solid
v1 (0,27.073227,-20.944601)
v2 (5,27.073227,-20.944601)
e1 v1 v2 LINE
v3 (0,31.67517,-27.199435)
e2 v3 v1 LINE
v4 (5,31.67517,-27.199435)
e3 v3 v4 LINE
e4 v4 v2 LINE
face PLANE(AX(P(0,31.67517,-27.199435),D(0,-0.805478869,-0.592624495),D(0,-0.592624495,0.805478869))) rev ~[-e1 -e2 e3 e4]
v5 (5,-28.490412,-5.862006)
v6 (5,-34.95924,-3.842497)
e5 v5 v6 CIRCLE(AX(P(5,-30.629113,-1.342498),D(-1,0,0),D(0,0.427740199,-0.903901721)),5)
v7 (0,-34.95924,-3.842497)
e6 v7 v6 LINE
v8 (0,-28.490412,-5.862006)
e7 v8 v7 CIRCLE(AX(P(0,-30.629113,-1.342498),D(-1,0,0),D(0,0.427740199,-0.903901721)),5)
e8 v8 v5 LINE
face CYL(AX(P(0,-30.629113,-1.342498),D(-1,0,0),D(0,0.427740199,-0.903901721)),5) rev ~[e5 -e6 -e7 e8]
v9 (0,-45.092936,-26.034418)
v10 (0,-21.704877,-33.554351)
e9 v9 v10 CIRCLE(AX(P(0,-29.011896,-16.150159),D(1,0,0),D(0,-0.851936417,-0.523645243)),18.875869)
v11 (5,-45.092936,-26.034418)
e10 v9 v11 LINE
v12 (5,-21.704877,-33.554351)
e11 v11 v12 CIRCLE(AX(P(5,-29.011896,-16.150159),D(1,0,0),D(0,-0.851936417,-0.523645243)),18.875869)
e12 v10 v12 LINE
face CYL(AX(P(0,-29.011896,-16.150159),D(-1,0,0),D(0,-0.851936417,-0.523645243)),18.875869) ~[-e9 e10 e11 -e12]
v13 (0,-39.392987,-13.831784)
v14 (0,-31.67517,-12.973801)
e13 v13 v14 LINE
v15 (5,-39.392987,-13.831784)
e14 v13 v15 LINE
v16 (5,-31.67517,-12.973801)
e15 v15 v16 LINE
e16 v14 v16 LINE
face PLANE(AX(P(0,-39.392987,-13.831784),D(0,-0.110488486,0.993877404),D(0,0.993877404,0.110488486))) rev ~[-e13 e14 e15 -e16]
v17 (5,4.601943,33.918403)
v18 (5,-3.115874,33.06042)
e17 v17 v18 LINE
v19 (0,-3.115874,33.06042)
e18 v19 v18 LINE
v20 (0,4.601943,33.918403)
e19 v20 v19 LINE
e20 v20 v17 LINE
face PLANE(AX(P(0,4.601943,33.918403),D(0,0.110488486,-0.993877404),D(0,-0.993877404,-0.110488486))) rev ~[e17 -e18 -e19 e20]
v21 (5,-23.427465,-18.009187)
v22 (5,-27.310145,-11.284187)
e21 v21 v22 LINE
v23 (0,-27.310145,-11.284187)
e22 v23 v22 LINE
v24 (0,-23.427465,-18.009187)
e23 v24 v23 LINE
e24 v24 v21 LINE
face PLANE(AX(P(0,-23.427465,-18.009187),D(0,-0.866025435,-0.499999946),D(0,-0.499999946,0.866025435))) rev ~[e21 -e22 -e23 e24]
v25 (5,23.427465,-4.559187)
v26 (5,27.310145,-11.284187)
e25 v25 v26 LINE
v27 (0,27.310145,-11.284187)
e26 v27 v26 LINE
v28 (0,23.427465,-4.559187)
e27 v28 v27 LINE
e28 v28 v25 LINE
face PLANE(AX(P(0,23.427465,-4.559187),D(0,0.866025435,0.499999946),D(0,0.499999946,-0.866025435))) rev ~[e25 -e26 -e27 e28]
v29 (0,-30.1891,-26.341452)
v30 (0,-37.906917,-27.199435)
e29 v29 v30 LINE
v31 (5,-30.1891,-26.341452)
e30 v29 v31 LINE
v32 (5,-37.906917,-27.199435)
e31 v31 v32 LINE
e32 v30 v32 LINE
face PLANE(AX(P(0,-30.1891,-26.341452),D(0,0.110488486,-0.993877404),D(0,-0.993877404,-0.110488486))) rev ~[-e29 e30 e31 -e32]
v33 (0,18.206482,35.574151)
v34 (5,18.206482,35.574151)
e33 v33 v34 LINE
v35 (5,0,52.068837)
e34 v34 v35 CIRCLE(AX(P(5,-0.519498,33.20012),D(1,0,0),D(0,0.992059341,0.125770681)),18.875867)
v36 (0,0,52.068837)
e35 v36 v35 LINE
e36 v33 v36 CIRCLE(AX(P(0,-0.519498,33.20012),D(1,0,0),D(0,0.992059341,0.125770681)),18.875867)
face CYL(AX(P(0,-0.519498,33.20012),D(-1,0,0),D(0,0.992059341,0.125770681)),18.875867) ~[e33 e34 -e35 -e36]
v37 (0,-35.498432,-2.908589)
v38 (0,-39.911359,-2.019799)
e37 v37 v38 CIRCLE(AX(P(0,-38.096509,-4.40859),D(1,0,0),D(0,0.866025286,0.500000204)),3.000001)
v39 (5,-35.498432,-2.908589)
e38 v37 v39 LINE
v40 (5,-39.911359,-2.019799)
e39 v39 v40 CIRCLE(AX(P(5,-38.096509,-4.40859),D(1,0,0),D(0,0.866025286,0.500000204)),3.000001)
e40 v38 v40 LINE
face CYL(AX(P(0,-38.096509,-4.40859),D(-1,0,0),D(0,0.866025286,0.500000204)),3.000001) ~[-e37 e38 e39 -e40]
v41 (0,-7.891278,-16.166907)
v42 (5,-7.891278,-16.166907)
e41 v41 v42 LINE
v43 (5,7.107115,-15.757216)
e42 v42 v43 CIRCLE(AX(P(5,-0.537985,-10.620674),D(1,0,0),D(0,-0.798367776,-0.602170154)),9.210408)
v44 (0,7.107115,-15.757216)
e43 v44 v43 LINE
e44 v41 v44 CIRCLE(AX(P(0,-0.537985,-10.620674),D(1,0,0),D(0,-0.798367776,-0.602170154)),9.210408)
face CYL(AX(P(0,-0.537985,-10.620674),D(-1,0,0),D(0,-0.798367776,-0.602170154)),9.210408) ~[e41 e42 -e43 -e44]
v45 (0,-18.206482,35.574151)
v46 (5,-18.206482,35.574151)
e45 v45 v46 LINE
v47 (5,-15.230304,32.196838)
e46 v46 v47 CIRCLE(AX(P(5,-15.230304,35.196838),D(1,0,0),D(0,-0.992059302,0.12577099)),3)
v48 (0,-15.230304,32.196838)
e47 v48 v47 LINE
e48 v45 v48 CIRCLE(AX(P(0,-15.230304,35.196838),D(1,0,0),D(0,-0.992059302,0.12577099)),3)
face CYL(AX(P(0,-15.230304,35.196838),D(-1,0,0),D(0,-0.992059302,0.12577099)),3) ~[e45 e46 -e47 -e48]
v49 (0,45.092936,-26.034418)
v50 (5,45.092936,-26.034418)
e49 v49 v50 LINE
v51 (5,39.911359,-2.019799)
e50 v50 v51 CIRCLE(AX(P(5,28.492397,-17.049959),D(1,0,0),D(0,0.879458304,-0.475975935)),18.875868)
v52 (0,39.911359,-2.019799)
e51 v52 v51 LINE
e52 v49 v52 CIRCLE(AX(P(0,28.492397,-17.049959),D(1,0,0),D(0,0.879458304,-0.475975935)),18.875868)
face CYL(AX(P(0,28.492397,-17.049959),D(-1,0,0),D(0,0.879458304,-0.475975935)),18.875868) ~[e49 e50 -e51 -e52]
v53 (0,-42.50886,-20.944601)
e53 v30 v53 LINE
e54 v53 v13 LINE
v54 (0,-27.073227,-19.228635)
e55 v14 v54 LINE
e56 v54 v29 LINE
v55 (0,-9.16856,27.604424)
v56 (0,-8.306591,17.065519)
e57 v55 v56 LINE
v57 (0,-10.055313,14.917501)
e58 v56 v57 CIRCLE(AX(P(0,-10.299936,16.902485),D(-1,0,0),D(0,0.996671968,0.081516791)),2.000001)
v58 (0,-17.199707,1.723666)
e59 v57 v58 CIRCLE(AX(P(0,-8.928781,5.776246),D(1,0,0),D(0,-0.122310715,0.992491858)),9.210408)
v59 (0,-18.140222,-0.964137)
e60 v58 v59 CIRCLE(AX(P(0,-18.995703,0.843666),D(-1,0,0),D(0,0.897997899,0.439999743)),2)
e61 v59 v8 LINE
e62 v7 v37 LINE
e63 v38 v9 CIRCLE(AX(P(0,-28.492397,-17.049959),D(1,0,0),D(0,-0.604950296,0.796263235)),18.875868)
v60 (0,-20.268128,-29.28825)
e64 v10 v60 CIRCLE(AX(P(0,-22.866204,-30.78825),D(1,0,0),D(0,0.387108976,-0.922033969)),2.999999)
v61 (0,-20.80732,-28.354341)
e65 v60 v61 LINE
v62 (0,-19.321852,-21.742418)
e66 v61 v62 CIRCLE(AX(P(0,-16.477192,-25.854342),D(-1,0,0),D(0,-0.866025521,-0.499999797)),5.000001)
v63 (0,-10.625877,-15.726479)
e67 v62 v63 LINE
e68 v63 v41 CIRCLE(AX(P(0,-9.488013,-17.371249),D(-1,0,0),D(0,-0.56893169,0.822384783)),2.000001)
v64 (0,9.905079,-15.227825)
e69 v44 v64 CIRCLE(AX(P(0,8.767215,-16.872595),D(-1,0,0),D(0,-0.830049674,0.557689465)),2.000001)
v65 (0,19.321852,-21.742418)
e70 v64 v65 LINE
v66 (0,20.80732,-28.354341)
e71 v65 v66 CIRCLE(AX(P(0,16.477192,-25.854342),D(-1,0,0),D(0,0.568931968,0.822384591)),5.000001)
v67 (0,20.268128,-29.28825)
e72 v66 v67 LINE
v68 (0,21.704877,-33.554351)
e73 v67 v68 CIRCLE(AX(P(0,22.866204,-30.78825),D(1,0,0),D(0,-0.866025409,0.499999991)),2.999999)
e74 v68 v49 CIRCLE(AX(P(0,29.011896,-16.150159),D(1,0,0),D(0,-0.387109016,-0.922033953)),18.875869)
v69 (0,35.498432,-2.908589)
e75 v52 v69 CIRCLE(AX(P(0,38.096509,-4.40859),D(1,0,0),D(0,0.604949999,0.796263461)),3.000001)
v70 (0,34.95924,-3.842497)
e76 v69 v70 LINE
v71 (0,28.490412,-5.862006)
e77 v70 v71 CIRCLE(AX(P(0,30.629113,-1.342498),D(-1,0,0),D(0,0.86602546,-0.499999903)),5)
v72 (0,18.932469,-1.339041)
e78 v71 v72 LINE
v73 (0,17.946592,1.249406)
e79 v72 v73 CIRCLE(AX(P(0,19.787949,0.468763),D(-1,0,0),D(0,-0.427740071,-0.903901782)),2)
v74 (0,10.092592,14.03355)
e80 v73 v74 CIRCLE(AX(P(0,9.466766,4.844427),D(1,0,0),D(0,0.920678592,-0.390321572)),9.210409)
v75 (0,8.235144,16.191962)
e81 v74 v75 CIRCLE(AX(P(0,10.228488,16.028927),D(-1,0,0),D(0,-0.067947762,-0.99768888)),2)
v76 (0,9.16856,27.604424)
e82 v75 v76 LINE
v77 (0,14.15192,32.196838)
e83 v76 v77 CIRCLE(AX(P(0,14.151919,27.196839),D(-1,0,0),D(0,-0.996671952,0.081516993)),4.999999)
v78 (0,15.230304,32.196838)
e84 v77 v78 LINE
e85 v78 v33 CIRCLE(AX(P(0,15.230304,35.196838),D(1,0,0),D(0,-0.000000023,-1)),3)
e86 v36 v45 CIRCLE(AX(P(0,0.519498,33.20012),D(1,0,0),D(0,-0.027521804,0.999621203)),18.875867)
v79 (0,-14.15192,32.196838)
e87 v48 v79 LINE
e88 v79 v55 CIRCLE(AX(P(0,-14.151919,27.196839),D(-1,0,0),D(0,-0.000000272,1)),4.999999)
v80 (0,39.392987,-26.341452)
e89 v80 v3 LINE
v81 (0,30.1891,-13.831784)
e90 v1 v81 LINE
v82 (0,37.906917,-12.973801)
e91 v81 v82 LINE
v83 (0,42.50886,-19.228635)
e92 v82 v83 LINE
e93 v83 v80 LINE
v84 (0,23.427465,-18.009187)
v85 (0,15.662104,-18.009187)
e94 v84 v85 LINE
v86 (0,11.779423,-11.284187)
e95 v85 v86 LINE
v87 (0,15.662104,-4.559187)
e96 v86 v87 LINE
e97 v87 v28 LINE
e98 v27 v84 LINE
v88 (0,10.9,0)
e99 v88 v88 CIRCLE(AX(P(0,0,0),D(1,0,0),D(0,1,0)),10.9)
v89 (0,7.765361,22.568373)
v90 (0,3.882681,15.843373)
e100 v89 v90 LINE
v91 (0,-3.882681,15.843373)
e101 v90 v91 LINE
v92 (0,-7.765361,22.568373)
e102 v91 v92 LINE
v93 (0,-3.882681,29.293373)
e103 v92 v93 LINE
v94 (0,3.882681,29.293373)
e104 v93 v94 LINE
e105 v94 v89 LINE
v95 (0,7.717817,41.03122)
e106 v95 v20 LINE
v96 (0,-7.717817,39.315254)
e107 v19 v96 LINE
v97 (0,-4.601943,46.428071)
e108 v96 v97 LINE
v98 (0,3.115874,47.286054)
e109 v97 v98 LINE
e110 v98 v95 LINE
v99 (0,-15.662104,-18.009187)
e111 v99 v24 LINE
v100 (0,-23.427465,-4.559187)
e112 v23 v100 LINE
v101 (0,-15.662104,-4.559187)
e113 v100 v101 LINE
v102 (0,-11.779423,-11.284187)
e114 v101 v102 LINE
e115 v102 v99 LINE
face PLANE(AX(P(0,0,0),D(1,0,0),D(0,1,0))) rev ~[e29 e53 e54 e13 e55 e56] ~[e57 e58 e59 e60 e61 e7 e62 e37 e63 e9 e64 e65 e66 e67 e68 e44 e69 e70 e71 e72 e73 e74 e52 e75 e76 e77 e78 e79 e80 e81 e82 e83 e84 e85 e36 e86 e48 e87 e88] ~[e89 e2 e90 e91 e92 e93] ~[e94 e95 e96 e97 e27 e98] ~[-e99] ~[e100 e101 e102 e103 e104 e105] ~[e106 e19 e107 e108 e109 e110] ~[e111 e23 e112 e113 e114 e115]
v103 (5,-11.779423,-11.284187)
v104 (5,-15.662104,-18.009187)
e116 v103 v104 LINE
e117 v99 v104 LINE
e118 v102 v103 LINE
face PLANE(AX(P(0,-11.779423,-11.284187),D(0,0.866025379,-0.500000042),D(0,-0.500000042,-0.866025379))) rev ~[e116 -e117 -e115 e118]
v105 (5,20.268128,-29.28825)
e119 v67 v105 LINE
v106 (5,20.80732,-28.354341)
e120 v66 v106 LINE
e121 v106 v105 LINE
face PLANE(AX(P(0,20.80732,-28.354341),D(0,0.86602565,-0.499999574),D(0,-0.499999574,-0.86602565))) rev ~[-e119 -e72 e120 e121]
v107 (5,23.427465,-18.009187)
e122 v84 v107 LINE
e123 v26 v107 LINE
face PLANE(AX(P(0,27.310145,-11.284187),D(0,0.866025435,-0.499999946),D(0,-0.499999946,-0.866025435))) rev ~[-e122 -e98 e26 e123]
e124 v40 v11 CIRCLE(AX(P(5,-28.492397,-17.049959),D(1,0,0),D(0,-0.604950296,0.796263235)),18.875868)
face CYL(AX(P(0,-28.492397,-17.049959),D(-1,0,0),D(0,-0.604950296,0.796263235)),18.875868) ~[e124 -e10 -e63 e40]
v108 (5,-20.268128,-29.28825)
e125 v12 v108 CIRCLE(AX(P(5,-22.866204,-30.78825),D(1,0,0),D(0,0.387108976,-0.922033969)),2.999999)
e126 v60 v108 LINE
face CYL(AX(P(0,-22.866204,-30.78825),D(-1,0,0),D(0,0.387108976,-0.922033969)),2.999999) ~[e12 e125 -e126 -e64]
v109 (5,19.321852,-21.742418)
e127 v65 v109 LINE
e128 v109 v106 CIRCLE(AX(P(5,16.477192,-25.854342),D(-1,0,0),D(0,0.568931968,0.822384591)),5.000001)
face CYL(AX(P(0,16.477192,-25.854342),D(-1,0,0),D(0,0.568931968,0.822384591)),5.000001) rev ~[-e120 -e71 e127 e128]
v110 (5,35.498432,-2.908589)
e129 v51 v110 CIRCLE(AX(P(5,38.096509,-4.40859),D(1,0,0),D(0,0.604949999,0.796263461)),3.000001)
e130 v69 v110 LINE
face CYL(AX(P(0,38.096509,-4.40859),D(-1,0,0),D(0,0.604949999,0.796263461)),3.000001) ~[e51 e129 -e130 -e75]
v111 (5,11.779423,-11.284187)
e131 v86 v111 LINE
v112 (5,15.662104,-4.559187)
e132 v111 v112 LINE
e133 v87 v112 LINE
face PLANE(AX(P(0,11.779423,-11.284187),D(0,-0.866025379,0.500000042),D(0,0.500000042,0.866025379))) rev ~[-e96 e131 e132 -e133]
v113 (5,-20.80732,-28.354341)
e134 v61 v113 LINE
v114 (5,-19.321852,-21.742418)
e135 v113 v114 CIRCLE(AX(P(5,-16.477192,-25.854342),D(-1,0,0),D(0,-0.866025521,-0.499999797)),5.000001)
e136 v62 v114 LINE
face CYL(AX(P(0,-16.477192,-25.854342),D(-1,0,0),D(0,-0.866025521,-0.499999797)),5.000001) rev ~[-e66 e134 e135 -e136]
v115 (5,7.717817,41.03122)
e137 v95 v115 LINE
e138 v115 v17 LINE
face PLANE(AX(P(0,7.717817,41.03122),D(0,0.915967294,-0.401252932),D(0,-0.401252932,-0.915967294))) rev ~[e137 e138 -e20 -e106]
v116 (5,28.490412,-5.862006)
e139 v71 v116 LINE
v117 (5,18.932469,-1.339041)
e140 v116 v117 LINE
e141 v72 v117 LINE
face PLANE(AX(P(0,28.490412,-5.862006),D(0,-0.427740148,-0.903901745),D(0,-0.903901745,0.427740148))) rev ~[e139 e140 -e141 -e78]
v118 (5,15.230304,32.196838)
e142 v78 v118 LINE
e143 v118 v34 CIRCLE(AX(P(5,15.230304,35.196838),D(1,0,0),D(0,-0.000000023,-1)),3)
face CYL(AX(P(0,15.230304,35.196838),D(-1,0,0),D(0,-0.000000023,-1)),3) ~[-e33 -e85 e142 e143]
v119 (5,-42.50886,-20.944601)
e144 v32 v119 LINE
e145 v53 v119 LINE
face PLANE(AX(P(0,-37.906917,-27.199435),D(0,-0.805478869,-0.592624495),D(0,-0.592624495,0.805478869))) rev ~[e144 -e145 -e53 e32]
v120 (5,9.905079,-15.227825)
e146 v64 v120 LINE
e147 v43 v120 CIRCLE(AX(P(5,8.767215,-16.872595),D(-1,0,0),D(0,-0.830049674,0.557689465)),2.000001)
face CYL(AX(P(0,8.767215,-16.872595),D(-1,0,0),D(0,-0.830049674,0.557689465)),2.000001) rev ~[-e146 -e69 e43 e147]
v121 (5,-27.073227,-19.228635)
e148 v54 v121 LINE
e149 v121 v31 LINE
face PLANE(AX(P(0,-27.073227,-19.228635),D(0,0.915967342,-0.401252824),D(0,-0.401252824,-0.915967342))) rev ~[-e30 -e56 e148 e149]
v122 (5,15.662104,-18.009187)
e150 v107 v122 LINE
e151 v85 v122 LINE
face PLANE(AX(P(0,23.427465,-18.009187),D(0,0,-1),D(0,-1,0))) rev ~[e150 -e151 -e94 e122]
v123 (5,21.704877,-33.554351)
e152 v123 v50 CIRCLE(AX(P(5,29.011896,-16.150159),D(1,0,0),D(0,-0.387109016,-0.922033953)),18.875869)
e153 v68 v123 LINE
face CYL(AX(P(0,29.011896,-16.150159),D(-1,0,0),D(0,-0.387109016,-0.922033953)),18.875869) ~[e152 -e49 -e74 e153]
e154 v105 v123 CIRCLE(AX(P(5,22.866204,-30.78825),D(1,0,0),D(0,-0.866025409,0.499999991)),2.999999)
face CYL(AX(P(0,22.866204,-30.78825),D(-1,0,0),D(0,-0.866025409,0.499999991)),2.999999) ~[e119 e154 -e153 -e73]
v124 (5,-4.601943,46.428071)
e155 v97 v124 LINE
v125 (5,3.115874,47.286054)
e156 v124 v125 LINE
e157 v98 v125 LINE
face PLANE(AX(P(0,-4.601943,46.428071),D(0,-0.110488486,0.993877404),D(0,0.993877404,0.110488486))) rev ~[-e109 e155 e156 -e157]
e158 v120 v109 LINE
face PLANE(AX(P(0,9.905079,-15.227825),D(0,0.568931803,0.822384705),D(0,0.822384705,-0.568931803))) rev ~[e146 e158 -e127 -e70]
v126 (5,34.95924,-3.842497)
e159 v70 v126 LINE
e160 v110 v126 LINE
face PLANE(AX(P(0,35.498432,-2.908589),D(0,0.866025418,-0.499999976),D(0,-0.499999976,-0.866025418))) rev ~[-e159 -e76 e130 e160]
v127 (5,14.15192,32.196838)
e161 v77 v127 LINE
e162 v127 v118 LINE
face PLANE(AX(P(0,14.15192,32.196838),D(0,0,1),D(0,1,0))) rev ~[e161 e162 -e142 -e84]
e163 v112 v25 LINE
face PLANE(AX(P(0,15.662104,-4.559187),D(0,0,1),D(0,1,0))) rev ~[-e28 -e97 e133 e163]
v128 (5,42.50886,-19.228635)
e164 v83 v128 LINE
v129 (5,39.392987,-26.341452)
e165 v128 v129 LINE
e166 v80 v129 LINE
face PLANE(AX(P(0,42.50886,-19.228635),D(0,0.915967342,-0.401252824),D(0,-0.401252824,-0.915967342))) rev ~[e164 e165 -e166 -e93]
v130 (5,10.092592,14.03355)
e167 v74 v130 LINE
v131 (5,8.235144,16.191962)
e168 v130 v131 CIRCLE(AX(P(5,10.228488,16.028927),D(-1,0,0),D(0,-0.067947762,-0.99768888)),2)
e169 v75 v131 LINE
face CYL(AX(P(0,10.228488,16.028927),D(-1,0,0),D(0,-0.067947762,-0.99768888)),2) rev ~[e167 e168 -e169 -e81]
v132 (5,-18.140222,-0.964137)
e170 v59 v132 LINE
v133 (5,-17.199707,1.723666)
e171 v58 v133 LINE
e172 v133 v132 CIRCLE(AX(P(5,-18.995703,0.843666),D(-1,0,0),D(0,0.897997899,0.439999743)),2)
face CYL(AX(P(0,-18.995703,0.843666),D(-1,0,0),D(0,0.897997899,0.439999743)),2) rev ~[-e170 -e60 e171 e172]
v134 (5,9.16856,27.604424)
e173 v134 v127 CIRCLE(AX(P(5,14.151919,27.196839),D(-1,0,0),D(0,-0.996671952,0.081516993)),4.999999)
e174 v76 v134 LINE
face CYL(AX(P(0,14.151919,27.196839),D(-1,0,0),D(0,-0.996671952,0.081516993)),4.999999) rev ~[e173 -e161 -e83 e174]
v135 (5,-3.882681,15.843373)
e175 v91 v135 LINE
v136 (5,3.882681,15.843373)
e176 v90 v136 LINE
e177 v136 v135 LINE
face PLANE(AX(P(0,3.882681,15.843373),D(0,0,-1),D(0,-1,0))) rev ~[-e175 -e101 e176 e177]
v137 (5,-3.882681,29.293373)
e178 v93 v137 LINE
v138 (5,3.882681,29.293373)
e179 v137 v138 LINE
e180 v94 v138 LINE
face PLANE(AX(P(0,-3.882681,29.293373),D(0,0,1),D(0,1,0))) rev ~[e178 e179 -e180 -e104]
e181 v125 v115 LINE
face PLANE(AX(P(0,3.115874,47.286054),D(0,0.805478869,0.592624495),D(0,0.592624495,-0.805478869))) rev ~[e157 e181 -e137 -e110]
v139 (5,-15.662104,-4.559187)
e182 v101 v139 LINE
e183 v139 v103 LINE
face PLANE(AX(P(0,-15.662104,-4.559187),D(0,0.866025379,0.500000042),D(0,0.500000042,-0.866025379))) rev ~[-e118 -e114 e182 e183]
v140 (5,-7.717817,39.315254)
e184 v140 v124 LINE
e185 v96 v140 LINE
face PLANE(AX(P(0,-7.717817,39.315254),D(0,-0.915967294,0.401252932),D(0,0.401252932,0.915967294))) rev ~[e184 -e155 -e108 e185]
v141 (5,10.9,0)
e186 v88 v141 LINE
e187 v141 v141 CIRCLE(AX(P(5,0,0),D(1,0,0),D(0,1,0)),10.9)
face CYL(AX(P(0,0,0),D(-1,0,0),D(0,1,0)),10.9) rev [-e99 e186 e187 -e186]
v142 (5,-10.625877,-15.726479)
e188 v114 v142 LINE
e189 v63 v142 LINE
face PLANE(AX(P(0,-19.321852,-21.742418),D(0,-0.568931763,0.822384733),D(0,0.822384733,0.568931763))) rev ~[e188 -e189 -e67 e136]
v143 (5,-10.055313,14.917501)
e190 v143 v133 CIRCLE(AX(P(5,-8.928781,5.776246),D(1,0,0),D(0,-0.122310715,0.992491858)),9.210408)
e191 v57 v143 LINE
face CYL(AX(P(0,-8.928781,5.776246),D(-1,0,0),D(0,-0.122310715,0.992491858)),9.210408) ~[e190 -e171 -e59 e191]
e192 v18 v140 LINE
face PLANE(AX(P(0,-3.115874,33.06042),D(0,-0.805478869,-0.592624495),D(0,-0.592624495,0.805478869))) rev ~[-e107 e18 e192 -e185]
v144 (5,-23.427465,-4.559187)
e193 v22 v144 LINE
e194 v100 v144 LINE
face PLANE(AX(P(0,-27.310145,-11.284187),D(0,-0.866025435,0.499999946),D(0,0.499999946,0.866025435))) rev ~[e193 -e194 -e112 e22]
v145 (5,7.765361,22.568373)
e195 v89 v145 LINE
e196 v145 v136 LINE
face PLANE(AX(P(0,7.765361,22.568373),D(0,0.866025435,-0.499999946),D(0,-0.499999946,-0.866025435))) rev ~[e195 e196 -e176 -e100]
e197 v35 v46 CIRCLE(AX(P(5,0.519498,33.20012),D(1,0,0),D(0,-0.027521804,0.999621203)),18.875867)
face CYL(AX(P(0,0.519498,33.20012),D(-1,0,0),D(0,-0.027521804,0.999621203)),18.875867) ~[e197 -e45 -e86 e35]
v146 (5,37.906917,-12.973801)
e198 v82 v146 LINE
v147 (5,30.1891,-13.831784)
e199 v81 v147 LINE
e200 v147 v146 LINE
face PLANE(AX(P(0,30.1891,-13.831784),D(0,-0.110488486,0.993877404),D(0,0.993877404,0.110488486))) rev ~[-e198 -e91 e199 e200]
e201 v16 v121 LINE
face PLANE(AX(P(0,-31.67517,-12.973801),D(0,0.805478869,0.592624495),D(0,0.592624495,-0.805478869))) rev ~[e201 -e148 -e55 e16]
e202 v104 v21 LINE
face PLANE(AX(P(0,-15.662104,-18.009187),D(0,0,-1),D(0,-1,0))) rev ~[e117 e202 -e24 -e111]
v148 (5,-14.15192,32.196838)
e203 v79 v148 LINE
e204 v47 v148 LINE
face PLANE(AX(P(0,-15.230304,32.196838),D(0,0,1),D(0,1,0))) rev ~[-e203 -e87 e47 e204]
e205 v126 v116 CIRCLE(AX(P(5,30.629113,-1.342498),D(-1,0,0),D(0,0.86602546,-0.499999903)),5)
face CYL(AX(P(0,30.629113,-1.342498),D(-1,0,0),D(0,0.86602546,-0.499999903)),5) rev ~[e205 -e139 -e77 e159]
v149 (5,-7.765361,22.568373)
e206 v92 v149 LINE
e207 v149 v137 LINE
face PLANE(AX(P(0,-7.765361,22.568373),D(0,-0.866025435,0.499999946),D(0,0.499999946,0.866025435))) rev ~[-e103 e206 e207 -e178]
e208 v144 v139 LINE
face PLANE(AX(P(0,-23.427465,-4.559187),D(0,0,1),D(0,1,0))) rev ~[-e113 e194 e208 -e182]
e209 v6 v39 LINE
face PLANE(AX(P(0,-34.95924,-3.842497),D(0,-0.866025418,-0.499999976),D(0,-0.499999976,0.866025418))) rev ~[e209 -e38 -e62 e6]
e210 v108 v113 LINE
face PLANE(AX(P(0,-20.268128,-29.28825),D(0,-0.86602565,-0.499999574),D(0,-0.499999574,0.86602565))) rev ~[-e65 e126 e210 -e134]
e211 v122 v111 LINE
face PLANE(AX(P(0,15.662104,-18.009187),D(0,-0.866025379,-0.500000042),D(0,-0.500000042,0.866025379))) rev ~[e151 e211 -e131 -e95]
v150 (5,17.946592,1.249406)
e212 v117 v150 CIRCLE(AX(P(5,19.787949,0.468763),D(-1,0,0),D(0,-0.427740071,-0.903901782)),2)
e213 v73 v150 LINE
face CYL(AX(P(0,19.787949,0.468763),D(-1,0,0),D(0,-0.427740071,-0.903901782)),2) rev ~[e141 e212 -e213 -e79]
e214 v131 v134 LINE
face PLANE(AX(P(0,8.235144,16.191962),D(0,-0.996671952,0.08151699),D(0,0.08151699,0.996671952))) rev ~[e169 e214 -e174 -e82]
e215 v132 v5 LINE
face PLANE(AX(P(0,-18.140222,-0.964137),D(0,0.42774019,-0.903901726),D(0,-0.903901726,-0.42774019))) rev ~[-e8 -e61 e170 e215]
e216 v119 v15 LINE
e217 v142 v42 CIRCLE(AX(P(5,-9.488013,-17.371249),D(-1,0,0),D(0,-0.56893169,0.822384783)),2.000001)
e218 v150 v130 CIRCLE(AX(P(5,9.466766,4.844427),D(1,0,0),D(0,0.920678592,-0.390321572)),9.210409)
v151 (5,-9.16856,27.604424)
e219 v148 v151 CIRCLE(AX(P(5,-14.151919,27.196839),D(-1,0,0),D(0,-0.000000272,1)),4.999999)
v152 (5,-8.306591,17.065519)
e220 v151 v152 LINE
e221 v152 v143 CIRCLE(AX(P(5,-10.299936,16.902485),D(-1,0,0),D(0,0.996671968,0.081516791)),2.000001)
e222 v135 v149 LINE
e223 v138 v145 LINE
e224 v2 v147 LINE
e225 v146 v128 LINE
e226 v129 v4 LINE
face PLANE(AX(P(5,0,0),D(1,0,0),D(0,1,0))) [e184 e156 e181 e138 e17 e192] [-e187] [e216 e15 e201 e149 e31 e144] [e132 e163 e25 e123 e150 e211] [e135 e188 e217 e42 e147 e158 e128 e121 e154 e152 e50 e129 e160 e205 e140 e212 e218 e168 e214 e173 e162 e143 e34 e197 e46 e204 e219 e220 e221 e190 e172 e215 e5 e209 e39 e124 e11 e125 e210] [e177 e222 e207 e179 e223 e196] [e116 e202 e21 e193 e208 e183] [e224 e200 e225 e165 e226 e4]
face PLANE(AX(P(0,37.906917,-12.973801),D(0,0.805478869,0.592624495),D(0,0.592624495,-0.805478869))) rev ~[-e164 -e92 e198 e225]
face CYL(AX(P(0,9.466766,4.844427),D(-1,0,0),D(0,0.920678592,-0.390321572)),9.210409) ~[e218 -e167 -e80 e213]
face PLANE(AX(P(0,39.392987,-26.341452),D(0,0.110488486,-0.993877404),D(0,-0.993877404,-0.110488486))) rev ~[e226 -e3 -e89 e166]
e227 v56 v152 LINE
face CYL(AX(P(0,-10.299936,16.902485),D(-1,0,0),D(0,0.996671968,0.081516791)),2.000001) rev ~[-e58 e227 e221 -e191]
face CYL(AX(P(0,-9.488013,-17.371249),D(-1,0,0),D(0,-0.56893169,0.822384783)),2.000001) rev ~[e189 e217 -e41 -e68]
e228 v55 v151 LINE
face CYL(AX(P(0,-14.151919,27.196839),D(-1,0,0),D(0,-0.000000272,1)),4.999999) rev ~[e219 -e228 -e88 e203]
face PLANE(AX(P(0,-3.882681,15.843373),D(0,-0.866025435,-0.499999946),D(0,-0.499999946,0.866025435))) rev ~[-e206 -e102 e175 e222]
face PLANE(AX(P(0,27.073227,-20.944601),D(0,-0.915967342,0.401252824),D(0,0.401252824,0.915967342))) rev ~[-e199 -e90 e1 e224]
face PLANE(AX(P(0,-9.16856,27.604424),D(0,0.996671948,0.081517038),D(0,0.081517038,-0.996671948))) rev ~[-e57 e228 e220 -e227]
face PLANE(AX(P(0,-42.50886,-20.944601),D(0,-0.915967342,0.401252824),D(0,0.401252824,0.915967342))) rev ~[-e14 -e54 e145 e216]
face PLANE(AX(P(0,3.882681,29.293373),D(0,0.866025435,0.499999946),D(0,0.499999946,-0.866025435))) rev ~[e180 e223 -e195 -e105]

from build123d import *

# Parameters (mm, degrees)
F0_R     = 10.9
F1_DEPTH = 5


with BuildPart() as f1:
    # F0 (on Right) → F1 (new body)
    with BuildSketch(Plane.YZ):
        with BuildLine():
            Line((-9.16856, 27.604424), (-8.306591, 17.065519))
            ThreePointArc((-8.306591, 17.065519), (-8.74893, 15.639796), (-10.055313, 14.917501))
            ThreePointArc((-10.055313, 14.917501), (-17.028002, 10.161932), (-17.199707, 1.723666))
            ThreePointArc((-17.199707, 1.723666), (-17.107939, 0.1831), (-18.140222, -0.964137))
            Line((-18.140222, -0.964137), (-28.490412, -5.862006))
            ThreePointArc((-28.490412, -5.862006), (-32.119144, -6.115317), (-34.95924, -3.842497))
            Line((-34.95924, -3.842497), (-35.498432, -2.908589))
            ThreePointArc((-35.498432, -2.908589), (-37.504185, -1.467645), (-39.911359, -2.019799))
            ThreePointArc((-39.911359, -2.019799), (-46.943646, -13.068777), (-45.092936, -26.034418))
            ThreePointArc((-45.092936, -26.034418), (-34.789716, -34.120001), (-21.704877, -33.554351))
            ThreePointArc((-21.704877, -33.554351), (-20.02311, -31.745754), (-20.268128, -29.28825))
            Line((-20.268128, -29.28825), (-20.80732, -28.354341))
            ThreePointArc((-20.80732, -28.354341), (-21.355591, -24.758336), (-19.321852, -21.742418))
            Line((-19.321852, -21.742418), (-10.625877, -15.726479))
            ThreePointArc((-10.625877, -15.726479), (-9.169996, -15.396694), (-7.891278, -16.166907))
            ThreePointArc((-7.891278, -16.166907), (-0.286491, -19.827648), (7.107115, -15.757216))
            ThreePointArc((7.107115, -15.757216), (8.3954, -14.90746), (9.905079, -15.227825))
            Line((9.905079, -15.227825), (19.321852, -21.742418))
            ThreePointArc((19.321852, -21.742418), (21.355591, -24.758336), (20.80732, -28.354341))
            Line((20.80732, -28.354341), (20.268128, -29.28825))
            ThreePointArc((20.268128, -29.28825), (20.02311, -31.745754), (21.704877, -33.554351))
            ThreePointArc((21.704877, -33.554351), (34.789716, -34.120001), (45.092936, -26.034418))
            ThreePointArc((45.092936, -26.034418), (46.943646, -13.068777), (39.911359, -2.019799))
            ThreePointArc((39.911359, -2.019799), (37.504185, -1.467645), (35.498432, -2.908589))
            Line((35.498432, -2.908589), (34.95924, -3.842497))
            ThreePointArc((34.95924, -3.842497), (32.119144, -6.115317), (28.490412, -5.862006))
            Line((28.490412, -5.862006), (18.932469, -1.339041))
            ThreePointArc((18.932469, -1.339041), (17.918926, -0.243103), (17.946592, 1.249406))
            ThreePointArc((17.946592, 1.249406), (17.314492, 9.665716), (10.092592, 14.03355))
            ThreePointArc((10.092592, 14.03355), (8.712539, 14.724359), (8.235144, 16.191962))
            Line((8.235144, 16.191962), (9.16856, 27.604424))
            ThreePointArc((9.16856, 27.604424), (10.763552, 30.873653), (14.15192, 32.196838))
            Line((14.15192, 32.196838), (15.230304, 32.196838))
            ThreePointArc((15.230304, 32.196838), (17.481075, 33.213399), (18.206482, 35.574151))
            ThreePointArc((18.206482, 35.574151), (12.15393, 47.188779), (0, 52.068837))
            ThreePointArc((0, 52.068837), (-12.15393, 47.188779), (-18.206482, 35.574151))
            ThreePointArc((-18.206482, 35.574151), (-17.481075, 33.213399), (-15.230304, 32.196838))
            Line((-15.230304, 32.196838), (-14.15192, 32.196838))
            ThreePointArc((-14.15192, 32.196838), (-10.763552, 30.873653), (-9.16856, 27.604424))
        make_face()
        Polygon((-30.1891, -26.341452), (-37.906917, -27.199435), (-42.50886, -20.944601), (-39.392987, -13.831784), (-31.67517, -12.973801), (-27.073227, -19.228635), align=None, mode=Mode.SUBTRACT)
        Polygon((-23.427465, -18.009187), (-27.310145, -11.284187), (-23.427465, -4.559187), (-15.662104, -4.559187), (-11.779423, -11.284187), (-15.662104, -18.009187), align=None, mode=Mode.SUBTRACT)
        Polygon((37.906917, -12.973801), (42.50886, -19.228635), (39.392987, -26.341452), (31.67517, -27.199435), (27.073227, -20.944601), (30.1891, -13.831784), align=None, mode=Mode.SUBTRACT)
        Circle(F0_R, mode=Mode.SUBTRACT)
        Polygon((27.310145, -11.284187), (23.427465, -18.009187), (15.662104, -18.009187), (11.779423, -11.284187), (15.662104, -4.559187), (23.427465, -4.559187), align=None, mode=Mode.SUBTRACT)
        Polygon((-7.765361, 22.568373), (-3.882681, 29.293373), (3.882681, 29.293373), (7.765361, 22.568373), (3.882681, 15.843373), (-3.882681, 15.843373), align=None, mode=Mode.SUBTRACT)
        Polygon((-3.115874, 33.06042), (-7.717817, 39.315254), (-4.601943, 46.428071), (3.115874, 47.286054), (7.717817, 41.03122), (4.601943, 33.918403), align=None, mode=Mode.SUBTRACT)
    extrude(amount=F1_DEPTH)


solid = f1.part
